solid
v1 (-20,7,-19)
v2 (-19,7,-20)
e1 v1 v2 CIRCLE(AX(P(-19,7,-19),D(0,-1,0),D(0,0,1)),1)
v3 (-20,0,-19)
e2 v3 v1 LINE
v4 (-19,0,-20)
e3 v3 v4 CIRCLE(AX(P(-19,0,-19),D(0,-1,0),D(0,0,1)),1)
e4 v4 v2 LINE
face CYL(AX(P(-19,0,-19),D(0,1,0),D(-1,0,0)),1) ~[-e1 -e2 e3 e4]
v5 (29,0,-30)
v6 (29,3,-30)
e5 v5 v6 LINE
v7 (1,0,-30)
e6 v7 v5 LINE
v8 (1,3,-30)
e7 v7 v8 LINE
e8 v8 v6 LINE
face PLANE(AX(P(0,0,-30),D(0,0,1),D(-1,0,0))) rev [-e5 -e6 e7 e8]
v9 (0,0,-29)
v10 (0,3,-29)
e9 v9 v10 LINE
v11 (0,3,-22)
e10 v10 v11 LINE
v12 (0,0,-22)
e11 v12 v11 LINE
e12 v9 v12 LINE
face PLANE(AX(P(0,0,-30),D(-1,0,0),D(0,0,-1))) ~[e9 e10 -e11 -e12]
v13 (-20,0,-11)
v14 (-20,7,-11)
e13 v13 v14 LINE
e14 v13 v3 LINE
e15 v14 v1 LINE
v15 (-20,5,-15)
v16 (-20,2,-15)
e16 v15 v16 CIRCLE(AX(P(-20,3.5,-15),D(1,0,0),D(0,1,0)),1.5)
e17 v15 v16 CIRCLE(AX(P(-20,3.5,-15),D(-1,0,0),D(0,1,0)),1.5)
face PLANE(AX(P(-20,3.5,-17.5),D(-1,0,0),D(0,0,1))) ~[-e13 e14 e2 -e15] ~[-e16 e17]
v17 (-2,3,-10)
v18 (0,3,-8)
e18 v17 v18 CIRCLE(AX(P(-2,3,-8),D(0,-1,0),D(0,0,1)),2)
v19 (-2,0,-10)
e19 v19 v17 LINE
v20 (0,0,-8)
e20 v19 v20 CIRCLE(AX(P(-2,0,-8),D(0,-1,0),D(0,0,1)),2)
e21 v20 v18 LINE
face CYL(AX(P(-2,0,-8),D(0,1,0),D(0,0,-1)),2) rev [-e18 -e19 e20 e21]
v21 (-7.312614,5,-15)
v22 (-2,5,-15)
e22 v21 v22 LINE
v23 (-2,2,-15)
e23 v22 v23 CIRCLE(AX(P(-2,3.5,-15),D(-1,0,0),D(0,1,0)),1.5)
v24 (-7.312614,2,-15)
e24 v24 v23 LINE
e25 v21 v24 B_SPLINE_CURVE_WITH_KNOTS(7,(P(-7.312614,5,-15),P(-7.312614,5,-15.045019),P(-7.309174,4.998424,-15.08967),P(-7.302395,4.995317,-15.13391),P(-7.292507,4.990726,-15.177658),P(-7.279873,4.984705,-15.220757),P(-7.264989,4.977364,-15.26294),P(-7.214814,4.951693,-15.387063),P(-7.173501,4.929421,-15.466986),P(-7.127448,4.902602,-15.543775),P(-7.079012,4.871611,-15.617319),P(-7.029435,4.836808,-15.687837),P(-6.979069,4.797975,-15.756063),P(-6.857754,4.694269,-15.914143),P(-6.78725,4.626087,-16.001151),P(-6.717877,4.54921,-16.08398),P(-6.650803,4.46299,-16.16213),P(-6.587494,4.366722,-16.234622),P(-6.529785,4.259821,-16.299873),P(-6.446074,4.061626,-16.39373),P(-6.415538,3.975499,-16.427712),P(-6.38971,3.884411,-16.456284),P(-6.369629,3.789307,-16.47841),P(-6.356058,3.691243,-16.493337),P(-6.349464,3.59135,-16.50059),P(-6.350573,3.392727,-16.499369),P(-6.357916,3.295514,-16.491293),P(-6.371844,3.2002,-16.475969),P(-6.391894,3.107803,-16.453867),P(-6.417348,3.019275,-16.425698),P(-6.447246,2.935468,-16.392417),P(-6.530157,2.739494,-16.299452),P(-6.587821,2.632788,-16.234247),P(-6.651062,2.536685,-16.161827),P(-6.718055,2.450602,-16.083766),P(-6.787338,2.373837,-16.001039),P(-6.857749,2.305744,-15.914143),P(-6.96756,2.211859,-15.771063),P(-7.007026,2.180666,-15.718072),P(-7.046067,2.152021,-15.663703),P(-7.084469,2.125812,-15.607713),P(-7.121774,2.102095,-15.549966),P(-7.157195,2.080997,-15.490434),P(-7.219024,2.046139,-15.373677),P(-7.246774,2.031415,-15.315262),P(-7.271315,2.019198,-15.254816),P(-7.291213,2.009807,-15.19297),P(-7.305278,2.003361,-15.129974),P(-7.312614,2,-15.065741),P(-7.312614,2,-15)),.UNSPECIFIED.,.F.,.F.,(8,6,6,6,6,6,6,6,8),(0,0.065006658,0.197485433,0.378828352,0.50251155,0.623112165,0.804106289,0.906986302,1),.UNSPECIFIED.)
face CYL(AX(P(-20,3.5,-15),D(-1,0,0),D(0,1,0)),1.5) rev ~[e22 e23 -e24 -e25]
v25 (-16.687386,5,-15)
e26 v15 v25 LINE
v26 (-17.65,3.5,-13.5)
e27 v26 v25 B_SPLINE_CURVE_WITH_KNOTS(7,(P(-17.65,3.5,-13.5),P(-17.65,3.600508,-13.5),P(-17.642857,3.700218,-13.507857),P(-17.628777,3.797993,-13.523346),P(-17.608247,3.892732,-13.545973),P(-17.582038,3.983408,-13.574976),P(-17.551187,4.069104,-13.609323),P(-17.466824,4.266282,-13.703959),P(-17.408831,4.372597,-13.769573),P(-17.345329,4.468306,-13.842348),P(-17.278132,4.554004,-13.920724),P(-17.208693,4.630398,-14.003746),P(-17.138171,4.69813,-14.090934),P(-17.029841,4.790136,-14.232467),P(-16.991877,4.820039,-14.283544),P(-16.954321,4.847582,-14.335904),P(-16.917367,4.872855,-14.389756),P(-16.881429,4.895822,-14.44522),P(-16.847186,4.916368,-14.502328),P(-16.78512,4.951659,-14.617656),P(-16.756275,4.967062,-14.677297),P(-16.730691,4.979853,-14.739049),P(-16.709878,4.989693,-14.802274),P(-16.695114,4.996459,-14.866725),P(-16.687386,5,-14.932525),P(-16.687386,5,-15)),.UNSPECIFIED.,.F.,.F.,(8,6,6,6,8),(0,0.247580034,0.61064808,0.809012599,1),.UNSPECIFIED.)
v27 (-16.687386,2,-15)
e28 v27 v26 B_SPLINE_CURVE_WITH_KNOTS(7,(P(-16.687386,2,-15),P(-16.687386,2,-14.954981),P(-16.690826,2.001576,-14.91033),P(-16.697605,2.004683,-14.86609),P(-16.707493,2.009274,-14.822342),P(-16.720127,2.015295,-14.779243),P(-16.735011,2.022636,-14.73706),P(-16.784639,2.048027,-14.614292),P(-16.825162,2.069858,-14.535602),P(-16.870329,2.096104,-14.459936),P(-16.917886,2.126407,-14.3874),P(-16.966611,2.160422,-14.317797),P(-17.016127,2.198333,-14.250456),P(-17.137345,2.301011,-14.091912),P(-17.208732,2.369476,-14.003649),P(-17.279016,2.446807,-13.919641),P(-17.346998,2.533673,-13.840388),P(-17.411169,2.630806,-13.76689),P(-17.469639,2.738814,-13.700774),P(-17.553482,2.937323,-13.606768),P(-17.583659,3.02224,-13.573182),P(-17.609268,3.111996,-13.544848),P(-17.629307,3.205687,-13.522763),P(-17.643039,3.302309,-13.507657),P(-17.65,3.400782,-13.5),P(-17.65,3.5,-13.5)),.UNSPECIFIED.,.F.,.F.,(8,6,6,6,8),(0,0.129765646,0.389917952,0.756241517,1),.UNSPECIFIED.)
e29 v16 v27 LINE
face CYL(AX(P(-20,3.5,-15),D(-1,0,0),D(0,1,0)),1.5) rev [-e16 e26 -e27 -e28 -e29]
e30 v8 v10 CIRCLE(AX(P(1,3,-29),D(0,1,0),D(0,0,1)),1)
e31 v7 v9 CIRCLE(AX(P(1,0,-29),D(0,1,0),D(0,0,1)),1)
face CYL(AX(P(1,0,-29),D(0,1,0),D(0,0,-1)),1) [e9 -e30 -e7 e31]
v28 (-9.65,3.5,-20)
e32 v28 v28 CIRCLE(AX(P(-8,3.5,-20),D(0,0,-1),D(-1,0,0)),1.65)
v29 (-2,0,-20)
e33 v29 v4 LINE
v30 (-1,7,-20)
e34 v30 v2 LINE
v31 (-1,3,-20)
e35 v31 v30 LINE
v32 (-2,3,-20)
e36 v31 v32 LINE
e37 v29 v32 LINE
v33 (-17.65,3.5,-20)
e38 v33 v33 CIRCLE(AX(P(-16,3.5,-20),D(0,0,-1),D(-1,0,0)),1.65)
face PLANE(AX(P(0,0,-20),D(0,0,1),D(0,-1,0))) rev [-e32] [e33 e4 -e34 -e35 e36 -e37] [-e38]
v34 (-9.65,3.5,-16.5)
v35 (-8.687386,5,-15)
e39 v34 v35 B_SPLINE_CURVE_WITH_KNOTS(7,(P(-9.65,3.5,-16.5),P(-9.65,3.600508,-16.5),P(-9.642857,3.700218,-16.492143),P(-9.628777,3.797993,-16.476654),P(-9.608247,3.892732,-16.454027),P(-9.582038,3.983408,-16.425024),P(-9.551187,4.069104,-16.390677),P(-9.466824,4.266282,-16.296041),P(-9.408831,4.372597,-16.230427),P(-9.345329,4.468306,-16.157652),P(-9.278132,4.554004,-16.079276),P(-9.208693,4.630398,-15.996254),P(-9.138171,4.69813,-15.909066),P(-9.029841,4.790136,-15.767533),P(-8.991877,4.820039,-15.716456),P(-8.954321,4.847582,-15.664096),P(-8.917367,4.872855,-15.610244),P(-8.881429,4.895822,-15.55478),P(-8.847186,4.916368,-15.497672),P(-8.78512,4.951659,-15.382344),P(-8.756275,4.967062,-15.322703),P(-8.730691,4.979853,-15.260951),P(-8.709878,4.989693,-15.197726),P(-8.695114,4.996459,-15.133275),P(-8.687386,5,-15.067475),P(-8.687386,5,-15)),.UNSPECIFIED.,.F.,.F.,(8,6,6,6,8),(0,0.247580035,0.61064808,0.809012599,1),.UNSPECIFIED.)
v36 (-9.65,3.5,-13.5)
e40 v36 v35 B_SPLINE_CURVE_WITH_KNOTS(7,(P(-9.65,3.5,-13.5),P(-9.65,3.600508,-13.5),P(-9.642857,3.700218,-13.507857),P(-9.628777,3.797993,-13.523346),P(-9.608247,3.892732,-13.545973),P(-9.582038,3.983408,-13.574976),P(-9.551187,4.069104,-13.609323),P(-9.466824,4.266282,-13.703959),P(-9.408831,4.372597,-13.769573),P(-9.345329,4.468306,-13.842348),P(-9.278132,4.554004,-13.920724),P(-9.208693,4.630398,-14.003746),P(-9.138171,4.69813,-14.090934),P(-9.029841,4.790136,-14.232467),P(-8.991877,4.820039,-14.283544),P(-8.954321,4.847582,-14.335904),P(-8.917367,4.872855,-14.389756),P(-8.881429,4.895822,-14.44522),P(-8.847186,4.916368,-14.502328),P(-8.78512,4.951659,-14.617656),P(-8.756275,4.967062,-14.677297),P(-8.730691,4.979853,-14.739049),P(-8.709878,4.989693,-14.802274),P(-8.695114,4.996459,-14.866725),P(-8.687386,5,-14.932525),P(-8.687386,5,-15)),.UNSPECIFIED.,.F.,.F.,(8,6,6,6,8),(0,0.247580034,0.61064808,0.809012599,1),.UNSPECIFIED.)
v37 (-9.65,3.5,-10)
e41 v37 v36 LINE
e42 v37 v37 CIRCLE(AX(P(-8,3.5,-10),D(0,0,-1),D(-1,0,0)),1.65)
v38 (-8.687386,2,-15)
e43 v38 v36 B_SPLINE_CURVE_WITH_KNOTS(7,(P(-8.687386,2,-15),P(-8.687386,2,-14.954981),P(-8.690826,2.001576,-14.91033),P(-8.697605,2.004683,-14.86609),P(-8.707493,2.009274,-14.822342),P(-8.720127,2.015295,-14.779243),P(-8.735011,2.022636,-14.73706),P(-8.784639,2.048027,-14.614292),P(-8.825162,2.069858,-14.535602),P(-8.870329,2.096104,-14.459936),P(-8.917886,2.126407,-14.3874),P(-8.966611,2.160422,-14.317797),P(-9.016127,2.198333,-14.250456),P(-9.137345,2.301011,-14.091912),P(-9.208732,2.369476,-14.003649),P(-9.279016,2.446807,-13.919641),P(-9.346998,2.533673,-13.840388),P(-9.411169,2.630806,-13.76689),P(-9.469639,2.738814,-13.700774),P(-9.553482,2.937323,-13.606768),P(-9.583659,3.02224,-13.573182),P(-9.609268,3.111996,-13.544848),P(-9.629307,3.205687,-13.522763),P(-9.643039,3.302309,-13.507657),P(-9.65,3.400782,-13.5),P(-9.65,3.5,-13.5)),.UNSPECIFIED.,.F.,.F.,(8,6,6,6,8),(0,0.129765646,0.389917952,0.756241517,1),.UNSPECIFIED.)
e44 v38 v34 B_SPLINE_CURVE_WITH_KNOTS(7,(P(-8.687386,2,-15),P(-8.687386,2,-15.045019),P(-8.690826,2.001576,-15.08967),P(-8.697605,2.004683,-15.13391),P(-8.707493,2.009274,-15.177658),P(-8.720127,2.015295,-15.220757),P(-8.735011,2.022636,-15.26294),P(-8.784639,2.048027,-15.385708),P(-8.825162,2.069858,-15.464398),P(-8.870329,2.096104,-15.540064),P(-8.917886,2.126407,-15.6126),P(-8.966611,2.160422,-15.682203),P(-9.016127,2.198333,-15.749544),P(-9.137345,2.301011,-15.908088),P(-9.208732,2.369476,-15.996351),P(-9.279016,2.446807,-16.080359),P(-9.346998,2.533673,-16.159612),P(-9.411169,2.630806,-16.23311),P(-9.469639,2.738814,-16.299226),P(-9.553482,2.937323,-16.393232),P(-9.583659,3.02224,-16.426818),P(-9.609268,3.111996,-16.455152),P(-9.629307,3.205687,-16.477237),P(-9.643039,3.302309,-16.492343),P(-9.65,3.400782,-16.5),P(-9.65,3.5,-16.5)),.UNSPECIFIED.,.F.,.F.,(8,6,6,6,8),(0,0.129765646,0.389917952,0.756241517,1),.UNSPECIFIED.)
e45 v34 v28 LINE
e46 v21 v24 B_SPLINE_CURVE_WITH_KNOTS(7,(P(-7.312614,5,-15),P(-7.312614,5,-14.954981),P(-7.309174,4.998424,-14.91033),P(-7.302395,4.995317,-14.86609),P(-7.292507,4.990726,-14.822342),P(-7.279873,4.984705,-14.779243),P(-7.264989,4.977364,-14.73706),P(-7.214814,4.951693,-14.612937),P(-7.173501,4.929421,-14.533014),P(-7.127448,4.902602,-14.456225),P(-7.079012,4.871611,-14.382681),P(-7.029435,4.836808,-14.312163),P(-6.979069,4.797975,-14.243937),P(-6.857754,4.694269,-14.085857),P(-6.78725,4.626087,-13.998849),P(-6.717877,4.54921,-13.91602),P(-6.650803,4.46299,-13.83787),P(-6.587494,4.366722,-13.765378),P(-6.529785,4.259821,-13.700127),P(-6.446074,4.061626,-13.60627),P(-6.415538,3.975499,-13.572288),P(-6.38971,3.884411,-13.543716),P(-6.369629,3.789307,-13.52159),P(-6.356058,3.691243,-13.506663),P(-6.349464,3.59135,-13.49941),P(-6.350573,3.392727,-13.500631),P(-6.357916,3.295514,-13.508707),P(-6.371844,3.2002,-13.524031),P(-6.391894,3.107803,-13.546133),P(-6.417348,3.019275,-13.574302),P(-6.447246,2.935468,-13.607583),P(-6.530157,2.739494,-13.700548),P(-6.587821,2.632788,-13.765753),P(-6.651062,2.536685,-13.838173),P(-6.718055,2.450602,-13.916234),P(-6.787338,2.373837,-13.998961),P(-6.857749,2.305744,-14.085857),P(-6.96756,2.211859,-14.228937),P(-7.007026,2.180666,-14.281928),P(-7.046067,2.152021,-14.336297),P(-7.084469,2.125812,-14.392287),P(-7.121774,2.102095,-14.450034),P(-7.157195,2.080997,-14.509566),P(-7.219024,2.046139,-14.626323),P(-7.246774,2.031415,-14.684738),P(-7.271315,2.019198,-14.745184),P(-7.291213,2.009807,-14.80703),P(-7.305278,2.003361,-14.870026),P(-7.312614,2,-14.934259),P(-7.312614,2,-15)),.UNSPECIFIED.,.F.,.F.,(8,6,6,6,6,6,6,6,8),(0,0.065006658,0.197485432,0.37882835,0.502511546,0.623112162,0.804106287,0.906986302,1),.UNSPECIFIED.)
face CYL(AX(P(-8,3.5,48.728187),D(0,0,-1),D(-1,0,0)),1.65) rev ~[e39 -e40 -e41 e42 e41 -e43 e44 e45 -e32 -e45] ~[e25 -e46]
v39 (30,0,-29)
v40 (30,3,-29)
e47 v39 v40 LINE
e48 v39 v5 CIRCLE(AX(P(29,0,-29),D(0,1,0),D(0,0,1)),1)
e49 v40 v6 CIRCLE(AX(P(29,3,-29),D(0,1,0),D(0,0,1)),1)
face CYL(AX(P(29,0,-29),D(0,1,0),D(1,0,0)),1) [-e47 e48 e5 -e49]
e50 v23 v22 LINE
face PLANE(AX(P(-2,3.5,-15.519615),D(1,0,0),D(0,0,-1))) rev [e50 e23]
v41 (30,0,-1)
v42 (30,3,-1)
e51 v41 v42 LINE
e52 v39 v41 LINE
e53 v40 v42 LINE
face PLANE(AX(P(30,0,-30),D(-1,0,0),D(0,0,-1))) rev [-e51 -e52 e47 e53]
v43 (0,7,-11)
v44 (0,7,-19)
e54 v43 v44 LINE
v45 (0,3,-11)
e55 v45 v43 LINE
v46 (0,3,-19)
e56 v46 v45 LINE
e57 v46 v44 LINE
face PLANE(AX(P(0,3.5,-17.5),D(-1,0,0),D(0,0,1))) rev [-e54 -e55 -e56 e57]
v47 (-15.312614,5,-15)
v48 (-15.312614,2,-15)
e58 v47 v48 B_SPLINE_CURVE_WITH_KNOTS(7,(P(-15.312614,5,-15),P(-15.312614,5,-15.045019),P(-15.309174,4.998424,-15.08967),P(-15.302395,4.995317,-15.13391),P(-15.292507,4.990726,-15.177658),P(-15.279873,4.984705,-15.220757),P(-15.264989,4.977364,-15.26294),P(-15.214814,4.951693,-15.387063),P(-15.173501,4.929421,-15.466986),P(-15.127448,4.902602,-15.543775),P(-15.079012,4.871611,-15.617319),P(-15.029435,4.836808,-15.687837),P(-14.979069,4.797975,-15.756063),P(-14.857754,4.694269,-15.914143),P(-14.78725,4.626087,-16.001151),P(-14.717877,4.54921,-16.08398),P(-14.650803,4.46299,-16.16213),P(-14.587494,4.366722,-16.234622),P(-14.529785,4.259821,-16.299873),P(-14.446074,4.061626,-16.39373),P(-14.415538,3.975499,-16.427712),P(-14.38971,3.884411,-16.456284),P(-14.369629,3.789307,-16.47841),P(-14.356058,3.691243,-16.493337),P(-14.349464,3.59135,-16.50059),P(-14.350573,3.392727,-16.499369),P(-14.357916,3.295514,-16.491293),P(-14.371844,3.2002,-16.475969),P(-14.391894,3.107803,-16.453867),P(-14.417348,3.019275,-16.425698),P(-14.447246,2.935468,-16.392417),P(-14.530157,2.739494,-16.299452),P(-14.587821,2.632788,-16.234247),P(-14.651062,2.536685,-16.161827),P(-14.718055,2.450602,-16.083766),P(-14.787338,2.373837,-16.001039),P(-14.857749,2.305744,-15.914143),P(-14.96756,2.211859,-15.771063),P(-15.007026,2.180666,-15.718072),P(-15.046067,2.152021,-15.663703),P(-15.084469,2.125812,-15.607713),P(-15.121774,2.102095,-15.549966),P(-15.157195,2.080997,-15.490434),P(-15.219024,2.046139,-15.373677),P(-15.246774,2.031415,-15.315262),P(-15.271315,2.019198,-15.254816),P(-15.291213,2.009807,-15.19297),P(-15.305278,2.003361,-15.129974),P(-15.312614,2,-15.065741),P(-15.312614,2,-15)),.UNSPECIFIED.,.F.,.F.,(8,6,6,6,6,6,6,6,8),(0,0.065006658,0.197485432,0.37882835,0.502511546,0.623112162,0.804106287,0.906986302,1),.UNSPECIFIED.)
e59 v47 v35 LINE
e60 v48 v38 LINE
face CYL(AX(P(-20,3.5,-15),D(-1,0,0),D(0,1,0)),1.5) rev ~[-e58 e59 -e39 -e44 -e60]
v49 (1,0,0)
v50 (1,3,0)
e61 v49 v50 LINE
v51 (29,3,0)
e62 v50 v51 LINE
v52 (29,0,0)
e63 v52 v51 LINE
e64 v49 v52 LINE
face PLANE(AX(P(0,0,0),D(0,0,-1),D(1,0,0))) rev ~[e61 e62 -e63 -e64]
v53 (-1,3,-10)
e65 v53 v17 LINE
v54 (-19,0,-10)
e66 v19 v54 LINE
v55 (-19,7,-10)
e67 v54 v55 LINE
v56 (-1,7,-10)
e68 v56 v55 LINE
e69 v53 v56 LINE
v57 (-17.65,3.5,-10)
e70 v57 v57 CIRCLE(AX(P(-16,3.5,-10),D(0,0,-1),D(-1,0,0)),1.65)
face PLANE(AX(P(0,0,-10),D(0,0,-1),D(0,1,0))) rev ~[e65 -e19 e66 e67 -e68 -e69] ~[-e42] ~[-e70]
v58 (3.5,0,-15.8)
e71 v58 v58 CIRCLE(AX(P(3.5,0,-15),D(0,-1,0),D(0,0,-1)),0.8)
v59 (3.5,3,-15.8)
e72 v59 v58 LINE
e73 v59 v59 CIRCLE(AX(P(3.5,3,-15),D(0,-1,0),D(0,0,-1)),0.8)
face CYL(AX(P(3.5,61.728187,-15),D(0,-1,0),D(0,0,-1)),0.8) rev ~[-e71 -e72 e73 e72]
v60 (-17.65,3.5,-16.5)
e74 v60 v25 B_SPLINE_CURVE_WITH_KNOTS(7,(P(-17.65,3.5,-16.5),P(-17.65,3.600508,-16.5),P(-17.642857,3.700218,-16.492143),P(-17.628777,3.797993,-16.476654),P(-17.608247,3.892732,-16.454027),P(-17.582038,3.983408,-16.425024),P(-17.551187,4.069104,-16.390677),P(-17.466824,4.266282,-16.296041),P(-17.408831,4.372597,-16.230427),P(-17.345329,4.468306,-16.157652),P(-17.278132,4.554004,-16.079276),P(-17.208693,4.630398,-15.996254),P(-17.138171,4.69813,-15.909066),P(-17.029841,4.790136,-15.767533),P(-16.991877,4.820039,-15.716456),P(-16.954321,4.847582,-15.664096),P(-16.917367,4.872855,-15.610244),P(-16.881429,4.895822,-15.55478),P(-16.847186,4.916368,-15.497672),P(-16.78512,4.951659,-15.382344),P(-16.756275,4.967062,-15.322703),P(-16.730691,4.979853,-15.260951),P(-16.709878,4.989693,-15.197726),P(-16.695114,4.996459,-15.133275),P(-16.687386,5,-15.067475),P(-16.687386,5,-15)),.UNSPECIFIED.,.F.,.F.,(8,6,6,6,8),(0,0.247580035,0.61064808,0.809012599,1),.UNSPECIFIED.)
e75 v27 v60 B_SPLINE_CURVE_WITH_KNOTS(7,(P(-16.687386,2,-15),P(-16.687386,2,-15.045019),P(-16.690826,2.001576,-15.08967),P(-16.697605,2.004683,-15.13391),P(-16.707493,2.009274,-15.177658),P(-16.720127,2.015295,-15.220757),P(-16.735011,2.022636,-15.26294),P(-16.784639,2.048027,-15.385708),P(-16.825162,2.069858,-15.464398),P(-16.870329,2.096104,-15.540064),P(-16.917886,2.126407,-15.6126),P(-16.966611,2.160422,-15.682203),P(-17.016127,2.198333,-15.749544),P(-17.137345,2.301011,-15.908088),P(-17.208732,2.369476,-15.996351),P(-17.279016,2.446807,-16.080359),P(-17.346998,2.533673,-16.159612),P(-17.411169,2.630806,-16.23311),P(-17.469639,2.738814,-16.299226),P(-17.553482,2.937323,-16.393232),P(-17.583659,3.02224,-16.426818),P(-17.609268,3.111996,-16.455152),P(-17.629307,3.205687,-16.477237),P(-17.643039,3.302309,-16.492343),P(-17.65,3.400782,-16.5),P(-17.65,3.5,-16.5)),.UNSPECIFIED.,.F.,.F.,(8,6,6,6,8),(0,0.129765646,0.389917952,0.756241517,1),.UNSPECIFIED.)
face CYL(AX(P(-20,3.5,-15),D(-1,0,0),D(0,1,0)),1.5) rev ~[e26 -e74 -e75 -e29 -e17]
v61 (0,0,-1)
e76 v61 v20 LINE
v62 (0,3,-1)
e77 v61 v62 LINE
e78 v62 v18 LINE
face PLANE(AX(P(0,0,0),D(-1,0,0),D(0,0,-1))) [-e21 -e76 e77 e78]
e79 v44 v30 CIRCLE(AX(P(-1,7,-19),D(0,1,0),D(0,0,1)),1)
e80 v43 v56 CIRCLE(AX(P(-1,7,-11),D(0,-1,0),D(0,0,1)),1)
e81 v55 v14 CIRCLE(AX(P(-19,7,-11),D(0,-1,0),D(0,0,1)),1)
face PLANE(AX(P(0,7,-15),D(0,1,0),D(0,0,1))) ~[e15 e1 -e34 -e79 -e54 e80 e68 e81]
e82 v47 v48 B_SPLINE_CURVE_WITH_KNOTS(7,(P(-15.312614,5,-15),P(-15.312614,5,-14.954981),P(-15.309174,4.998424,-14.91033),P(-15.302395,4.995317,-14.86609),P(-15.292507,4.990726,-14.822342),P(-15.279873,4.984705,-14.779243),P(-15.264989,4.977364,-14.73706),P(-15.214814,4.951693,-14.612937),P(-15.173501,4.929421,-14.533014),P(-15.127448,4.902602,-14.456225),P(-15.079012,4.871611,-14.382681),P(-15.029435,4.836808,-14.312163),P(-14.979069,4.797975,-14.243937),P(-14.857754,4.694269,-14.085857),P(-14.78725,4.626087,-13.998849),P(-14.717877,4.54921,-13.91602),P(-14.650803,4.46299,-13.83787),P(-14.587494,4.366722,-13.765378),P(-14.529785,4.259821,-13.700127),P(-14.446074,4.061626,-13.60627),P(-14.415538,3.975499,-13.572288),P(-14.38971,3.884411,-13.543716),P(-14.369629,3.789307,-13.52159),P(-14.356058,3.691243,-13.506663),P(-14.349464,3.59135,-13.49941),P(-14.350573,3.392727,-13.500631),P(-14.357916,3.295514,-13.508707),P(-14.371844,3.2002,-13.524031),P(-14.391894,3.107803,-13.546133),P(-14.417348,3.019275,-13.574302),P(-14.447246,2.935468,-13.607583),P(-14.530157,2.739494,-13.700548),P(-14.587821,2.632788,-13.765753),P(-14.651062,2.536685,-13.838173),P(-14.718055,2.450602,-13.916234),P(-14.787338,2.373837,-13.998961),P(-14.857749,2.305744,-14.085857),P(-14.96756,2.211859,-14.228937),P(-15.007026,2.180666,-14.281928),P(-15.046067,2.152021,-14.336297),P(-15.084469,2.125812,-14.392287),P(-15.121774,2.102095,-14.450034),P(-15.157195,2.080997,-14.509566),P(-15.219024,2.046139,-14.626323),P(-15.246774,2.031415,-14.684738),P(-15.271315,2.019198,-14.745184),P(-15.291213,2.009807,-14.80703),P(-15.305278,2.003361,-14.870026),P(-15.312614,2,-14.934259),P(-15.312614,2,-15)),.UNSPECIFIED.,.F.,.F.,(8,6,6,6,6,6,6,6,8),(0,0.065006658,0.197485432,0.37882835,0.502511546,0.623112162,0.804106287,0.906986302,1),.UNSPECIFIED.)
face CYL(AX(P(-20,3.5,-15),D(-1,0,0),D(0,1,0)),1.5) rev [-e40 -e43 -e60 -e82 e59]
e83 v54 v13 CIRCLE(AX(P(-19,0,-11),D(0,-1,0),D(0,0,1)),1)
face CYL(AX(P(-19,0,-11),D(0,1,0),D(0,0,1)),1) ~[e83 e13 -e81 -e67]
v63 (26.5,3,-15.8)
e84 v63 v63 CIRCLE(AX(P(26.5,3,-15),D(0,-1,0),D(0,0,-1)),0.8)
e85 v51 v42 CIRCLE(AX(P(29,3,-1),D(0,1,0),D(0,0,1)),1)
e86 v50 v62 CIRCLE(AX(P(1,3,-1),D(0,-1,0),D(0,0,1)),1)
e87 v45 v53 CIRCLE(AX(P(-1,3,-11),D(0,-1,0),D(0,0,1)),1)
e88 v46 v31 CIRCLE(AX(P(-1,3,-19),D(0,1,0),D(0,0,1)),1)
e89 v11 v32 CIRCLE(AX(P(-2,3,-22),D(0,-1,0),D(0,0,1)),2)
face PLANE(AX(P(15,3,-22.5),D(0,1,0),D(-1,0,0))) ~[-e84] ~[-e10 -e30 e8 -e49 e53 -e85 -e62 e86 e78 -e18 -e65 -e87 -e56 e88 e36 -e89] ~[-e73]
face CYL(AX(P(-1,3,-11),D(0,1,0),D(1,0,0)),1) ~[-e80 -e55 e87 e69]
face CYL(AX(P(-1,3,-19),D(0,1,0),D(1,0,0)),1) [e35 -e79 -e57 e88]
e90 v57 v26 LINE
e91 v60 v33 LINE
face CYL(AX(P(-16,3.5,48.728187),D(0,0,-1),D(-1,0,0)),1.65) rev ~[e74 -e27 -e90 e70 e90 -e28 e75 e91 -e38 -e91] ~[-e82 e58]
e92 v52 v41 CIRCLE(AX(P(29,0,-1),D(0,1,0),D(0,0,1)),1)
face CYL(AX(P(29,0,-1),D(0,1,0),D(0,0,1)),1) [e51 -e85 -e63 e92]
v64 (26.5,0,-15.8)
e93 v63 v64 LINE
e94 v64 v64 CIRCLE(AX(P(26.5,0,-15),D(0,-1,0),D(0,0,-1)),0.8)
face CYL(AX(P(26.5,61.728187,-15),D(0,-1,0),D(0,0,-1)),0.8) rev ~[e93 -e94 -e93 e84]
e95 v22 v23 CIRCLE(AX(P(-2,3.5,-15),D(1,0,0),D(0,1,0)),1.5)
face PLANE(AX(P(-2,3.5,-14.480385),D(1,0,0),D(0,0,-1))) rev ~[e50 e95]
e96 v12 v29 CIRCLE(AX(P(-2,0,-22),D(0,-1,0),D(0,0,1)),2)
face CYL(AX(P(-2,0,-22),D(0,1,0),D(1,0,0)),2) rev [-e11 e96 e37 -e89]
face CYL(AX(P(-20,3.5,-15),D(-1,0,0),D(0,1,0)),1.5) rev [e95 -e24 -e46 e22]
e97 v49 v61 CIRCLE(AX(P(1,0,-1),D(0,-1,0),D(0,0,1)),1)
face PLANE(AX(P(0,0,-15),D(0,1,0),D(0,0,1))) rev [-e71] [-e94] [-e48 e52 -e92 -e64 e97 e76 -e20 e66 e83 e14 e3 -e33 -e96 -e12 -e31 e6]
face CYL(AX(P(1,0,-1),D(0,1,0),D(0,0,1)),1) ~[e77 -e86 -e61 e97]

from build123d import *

# Parameters (mm, degrees)
SKETCH1_W             = 30
SKETCH1_H             = 15
BOSS_EXTRUDE1_DEPTH   = 3
SKETCH2_W             = 5
SKETCH2_H             = 7
BOSS_EXTRUDE2_DEPTH   = 20
CUT_EXTRUDE1_DEPTH    = 18
FILLET2_R             = 2
FILLET3_R             = 1
M2X0_4_TAPPED_HOLE1_D = 1.6
M4X0_7_TAPPED_HOLE1_D = 3.3


with BuildPart() as part:
    # Sketch1 → Boss-Extrude1 (new body)
    with BuildSketch(Plane(origin=(0, 0, 0), x_dir=(1, 0, 0), z_dir=(0, 1, 0))):
        with Locations((15, 7.5)):
            Rectangle(SKETCH1_W, SKETCH1_H)
    extrude(amount=BOSS_EXTRUDE1_DEPTH)

    # Sketch2 → Boss-Extrude2 (add)
    with BuildSketch(Plane.ZY):
        with Locations((-12.5, 3.5)):
            Rectangle(SKETCH2_W, SKETCH2_H)
    extrude(amount=BOSS_EXTRUDE2_DEPTH)

    # Sketch3 → Cut-Extrude1 (cut)
    with BuildSketch(Plane.ZY.offset(20)):
        with BuildLine():
            Line((-15, 2), (-15, 5))
            ThreePointArc((-15, 5), (-13.5, 3.5), (-15, 2))
        make_face()
    extrude(amount=-CUT_EXTRUDE1_DEPTH, mode=Mode.SUBTRACT)

    # Mirror1: part across plane


with BuildPart() as part_1:
    add(part.part)
    add(part.part.mirror(Plane(origin=(0, 3, -15), x_dir=(1, 0, 0), z_dir=(0, 0, 1))))

    # Fillet2
    fillet2_edges = [part_1.edges().sort_by_distance(p)[0] for p in [
        (0, 1.5, -10),
        (0, 1.5, -20),
    ]]
    fillet(fillet2_edges, radius=FILLET2_R)

    # Fillet3
    fillet3_edges = [part_1.edges().sort_by_distance(p)[0] for p in [
        (0, 5, -10),
        (-20, 3.5, -10),
        (0, 1.5, -30),
        (30, 1.5, -30),
        (-20, 3.5, -20),
        (0, 5, -20),
        (30, 1.5, 0),
        (0, 1.5, 0),
    ]]
    fillet(fillet3_edges, radius=FILLET3_R)

    # M2x0.4 Tapped Hole1 (through all)
    with Locations(Plane(origin=(3.5, 3, -15), x_dir=(0, 0, 1), z_dir=(0, 1, 0))):
        with Locations((0, 0), (0, 23)):
            Hole(M2X0_4_TAPPED_HOLE1_D / 2)

    # M4x0.7 Tapped Hole1 (through all)
    with Locations(Plane(origin=(-16, 3.5, -10), x_dir=(1, 0, 0), z_dir=(0, 0, 1))):
        with Locations((0, 0), (8, 0)):
            Hole(M4X0_7_TAPPED_HOLE1_D / 2)


solid = part_1.part
